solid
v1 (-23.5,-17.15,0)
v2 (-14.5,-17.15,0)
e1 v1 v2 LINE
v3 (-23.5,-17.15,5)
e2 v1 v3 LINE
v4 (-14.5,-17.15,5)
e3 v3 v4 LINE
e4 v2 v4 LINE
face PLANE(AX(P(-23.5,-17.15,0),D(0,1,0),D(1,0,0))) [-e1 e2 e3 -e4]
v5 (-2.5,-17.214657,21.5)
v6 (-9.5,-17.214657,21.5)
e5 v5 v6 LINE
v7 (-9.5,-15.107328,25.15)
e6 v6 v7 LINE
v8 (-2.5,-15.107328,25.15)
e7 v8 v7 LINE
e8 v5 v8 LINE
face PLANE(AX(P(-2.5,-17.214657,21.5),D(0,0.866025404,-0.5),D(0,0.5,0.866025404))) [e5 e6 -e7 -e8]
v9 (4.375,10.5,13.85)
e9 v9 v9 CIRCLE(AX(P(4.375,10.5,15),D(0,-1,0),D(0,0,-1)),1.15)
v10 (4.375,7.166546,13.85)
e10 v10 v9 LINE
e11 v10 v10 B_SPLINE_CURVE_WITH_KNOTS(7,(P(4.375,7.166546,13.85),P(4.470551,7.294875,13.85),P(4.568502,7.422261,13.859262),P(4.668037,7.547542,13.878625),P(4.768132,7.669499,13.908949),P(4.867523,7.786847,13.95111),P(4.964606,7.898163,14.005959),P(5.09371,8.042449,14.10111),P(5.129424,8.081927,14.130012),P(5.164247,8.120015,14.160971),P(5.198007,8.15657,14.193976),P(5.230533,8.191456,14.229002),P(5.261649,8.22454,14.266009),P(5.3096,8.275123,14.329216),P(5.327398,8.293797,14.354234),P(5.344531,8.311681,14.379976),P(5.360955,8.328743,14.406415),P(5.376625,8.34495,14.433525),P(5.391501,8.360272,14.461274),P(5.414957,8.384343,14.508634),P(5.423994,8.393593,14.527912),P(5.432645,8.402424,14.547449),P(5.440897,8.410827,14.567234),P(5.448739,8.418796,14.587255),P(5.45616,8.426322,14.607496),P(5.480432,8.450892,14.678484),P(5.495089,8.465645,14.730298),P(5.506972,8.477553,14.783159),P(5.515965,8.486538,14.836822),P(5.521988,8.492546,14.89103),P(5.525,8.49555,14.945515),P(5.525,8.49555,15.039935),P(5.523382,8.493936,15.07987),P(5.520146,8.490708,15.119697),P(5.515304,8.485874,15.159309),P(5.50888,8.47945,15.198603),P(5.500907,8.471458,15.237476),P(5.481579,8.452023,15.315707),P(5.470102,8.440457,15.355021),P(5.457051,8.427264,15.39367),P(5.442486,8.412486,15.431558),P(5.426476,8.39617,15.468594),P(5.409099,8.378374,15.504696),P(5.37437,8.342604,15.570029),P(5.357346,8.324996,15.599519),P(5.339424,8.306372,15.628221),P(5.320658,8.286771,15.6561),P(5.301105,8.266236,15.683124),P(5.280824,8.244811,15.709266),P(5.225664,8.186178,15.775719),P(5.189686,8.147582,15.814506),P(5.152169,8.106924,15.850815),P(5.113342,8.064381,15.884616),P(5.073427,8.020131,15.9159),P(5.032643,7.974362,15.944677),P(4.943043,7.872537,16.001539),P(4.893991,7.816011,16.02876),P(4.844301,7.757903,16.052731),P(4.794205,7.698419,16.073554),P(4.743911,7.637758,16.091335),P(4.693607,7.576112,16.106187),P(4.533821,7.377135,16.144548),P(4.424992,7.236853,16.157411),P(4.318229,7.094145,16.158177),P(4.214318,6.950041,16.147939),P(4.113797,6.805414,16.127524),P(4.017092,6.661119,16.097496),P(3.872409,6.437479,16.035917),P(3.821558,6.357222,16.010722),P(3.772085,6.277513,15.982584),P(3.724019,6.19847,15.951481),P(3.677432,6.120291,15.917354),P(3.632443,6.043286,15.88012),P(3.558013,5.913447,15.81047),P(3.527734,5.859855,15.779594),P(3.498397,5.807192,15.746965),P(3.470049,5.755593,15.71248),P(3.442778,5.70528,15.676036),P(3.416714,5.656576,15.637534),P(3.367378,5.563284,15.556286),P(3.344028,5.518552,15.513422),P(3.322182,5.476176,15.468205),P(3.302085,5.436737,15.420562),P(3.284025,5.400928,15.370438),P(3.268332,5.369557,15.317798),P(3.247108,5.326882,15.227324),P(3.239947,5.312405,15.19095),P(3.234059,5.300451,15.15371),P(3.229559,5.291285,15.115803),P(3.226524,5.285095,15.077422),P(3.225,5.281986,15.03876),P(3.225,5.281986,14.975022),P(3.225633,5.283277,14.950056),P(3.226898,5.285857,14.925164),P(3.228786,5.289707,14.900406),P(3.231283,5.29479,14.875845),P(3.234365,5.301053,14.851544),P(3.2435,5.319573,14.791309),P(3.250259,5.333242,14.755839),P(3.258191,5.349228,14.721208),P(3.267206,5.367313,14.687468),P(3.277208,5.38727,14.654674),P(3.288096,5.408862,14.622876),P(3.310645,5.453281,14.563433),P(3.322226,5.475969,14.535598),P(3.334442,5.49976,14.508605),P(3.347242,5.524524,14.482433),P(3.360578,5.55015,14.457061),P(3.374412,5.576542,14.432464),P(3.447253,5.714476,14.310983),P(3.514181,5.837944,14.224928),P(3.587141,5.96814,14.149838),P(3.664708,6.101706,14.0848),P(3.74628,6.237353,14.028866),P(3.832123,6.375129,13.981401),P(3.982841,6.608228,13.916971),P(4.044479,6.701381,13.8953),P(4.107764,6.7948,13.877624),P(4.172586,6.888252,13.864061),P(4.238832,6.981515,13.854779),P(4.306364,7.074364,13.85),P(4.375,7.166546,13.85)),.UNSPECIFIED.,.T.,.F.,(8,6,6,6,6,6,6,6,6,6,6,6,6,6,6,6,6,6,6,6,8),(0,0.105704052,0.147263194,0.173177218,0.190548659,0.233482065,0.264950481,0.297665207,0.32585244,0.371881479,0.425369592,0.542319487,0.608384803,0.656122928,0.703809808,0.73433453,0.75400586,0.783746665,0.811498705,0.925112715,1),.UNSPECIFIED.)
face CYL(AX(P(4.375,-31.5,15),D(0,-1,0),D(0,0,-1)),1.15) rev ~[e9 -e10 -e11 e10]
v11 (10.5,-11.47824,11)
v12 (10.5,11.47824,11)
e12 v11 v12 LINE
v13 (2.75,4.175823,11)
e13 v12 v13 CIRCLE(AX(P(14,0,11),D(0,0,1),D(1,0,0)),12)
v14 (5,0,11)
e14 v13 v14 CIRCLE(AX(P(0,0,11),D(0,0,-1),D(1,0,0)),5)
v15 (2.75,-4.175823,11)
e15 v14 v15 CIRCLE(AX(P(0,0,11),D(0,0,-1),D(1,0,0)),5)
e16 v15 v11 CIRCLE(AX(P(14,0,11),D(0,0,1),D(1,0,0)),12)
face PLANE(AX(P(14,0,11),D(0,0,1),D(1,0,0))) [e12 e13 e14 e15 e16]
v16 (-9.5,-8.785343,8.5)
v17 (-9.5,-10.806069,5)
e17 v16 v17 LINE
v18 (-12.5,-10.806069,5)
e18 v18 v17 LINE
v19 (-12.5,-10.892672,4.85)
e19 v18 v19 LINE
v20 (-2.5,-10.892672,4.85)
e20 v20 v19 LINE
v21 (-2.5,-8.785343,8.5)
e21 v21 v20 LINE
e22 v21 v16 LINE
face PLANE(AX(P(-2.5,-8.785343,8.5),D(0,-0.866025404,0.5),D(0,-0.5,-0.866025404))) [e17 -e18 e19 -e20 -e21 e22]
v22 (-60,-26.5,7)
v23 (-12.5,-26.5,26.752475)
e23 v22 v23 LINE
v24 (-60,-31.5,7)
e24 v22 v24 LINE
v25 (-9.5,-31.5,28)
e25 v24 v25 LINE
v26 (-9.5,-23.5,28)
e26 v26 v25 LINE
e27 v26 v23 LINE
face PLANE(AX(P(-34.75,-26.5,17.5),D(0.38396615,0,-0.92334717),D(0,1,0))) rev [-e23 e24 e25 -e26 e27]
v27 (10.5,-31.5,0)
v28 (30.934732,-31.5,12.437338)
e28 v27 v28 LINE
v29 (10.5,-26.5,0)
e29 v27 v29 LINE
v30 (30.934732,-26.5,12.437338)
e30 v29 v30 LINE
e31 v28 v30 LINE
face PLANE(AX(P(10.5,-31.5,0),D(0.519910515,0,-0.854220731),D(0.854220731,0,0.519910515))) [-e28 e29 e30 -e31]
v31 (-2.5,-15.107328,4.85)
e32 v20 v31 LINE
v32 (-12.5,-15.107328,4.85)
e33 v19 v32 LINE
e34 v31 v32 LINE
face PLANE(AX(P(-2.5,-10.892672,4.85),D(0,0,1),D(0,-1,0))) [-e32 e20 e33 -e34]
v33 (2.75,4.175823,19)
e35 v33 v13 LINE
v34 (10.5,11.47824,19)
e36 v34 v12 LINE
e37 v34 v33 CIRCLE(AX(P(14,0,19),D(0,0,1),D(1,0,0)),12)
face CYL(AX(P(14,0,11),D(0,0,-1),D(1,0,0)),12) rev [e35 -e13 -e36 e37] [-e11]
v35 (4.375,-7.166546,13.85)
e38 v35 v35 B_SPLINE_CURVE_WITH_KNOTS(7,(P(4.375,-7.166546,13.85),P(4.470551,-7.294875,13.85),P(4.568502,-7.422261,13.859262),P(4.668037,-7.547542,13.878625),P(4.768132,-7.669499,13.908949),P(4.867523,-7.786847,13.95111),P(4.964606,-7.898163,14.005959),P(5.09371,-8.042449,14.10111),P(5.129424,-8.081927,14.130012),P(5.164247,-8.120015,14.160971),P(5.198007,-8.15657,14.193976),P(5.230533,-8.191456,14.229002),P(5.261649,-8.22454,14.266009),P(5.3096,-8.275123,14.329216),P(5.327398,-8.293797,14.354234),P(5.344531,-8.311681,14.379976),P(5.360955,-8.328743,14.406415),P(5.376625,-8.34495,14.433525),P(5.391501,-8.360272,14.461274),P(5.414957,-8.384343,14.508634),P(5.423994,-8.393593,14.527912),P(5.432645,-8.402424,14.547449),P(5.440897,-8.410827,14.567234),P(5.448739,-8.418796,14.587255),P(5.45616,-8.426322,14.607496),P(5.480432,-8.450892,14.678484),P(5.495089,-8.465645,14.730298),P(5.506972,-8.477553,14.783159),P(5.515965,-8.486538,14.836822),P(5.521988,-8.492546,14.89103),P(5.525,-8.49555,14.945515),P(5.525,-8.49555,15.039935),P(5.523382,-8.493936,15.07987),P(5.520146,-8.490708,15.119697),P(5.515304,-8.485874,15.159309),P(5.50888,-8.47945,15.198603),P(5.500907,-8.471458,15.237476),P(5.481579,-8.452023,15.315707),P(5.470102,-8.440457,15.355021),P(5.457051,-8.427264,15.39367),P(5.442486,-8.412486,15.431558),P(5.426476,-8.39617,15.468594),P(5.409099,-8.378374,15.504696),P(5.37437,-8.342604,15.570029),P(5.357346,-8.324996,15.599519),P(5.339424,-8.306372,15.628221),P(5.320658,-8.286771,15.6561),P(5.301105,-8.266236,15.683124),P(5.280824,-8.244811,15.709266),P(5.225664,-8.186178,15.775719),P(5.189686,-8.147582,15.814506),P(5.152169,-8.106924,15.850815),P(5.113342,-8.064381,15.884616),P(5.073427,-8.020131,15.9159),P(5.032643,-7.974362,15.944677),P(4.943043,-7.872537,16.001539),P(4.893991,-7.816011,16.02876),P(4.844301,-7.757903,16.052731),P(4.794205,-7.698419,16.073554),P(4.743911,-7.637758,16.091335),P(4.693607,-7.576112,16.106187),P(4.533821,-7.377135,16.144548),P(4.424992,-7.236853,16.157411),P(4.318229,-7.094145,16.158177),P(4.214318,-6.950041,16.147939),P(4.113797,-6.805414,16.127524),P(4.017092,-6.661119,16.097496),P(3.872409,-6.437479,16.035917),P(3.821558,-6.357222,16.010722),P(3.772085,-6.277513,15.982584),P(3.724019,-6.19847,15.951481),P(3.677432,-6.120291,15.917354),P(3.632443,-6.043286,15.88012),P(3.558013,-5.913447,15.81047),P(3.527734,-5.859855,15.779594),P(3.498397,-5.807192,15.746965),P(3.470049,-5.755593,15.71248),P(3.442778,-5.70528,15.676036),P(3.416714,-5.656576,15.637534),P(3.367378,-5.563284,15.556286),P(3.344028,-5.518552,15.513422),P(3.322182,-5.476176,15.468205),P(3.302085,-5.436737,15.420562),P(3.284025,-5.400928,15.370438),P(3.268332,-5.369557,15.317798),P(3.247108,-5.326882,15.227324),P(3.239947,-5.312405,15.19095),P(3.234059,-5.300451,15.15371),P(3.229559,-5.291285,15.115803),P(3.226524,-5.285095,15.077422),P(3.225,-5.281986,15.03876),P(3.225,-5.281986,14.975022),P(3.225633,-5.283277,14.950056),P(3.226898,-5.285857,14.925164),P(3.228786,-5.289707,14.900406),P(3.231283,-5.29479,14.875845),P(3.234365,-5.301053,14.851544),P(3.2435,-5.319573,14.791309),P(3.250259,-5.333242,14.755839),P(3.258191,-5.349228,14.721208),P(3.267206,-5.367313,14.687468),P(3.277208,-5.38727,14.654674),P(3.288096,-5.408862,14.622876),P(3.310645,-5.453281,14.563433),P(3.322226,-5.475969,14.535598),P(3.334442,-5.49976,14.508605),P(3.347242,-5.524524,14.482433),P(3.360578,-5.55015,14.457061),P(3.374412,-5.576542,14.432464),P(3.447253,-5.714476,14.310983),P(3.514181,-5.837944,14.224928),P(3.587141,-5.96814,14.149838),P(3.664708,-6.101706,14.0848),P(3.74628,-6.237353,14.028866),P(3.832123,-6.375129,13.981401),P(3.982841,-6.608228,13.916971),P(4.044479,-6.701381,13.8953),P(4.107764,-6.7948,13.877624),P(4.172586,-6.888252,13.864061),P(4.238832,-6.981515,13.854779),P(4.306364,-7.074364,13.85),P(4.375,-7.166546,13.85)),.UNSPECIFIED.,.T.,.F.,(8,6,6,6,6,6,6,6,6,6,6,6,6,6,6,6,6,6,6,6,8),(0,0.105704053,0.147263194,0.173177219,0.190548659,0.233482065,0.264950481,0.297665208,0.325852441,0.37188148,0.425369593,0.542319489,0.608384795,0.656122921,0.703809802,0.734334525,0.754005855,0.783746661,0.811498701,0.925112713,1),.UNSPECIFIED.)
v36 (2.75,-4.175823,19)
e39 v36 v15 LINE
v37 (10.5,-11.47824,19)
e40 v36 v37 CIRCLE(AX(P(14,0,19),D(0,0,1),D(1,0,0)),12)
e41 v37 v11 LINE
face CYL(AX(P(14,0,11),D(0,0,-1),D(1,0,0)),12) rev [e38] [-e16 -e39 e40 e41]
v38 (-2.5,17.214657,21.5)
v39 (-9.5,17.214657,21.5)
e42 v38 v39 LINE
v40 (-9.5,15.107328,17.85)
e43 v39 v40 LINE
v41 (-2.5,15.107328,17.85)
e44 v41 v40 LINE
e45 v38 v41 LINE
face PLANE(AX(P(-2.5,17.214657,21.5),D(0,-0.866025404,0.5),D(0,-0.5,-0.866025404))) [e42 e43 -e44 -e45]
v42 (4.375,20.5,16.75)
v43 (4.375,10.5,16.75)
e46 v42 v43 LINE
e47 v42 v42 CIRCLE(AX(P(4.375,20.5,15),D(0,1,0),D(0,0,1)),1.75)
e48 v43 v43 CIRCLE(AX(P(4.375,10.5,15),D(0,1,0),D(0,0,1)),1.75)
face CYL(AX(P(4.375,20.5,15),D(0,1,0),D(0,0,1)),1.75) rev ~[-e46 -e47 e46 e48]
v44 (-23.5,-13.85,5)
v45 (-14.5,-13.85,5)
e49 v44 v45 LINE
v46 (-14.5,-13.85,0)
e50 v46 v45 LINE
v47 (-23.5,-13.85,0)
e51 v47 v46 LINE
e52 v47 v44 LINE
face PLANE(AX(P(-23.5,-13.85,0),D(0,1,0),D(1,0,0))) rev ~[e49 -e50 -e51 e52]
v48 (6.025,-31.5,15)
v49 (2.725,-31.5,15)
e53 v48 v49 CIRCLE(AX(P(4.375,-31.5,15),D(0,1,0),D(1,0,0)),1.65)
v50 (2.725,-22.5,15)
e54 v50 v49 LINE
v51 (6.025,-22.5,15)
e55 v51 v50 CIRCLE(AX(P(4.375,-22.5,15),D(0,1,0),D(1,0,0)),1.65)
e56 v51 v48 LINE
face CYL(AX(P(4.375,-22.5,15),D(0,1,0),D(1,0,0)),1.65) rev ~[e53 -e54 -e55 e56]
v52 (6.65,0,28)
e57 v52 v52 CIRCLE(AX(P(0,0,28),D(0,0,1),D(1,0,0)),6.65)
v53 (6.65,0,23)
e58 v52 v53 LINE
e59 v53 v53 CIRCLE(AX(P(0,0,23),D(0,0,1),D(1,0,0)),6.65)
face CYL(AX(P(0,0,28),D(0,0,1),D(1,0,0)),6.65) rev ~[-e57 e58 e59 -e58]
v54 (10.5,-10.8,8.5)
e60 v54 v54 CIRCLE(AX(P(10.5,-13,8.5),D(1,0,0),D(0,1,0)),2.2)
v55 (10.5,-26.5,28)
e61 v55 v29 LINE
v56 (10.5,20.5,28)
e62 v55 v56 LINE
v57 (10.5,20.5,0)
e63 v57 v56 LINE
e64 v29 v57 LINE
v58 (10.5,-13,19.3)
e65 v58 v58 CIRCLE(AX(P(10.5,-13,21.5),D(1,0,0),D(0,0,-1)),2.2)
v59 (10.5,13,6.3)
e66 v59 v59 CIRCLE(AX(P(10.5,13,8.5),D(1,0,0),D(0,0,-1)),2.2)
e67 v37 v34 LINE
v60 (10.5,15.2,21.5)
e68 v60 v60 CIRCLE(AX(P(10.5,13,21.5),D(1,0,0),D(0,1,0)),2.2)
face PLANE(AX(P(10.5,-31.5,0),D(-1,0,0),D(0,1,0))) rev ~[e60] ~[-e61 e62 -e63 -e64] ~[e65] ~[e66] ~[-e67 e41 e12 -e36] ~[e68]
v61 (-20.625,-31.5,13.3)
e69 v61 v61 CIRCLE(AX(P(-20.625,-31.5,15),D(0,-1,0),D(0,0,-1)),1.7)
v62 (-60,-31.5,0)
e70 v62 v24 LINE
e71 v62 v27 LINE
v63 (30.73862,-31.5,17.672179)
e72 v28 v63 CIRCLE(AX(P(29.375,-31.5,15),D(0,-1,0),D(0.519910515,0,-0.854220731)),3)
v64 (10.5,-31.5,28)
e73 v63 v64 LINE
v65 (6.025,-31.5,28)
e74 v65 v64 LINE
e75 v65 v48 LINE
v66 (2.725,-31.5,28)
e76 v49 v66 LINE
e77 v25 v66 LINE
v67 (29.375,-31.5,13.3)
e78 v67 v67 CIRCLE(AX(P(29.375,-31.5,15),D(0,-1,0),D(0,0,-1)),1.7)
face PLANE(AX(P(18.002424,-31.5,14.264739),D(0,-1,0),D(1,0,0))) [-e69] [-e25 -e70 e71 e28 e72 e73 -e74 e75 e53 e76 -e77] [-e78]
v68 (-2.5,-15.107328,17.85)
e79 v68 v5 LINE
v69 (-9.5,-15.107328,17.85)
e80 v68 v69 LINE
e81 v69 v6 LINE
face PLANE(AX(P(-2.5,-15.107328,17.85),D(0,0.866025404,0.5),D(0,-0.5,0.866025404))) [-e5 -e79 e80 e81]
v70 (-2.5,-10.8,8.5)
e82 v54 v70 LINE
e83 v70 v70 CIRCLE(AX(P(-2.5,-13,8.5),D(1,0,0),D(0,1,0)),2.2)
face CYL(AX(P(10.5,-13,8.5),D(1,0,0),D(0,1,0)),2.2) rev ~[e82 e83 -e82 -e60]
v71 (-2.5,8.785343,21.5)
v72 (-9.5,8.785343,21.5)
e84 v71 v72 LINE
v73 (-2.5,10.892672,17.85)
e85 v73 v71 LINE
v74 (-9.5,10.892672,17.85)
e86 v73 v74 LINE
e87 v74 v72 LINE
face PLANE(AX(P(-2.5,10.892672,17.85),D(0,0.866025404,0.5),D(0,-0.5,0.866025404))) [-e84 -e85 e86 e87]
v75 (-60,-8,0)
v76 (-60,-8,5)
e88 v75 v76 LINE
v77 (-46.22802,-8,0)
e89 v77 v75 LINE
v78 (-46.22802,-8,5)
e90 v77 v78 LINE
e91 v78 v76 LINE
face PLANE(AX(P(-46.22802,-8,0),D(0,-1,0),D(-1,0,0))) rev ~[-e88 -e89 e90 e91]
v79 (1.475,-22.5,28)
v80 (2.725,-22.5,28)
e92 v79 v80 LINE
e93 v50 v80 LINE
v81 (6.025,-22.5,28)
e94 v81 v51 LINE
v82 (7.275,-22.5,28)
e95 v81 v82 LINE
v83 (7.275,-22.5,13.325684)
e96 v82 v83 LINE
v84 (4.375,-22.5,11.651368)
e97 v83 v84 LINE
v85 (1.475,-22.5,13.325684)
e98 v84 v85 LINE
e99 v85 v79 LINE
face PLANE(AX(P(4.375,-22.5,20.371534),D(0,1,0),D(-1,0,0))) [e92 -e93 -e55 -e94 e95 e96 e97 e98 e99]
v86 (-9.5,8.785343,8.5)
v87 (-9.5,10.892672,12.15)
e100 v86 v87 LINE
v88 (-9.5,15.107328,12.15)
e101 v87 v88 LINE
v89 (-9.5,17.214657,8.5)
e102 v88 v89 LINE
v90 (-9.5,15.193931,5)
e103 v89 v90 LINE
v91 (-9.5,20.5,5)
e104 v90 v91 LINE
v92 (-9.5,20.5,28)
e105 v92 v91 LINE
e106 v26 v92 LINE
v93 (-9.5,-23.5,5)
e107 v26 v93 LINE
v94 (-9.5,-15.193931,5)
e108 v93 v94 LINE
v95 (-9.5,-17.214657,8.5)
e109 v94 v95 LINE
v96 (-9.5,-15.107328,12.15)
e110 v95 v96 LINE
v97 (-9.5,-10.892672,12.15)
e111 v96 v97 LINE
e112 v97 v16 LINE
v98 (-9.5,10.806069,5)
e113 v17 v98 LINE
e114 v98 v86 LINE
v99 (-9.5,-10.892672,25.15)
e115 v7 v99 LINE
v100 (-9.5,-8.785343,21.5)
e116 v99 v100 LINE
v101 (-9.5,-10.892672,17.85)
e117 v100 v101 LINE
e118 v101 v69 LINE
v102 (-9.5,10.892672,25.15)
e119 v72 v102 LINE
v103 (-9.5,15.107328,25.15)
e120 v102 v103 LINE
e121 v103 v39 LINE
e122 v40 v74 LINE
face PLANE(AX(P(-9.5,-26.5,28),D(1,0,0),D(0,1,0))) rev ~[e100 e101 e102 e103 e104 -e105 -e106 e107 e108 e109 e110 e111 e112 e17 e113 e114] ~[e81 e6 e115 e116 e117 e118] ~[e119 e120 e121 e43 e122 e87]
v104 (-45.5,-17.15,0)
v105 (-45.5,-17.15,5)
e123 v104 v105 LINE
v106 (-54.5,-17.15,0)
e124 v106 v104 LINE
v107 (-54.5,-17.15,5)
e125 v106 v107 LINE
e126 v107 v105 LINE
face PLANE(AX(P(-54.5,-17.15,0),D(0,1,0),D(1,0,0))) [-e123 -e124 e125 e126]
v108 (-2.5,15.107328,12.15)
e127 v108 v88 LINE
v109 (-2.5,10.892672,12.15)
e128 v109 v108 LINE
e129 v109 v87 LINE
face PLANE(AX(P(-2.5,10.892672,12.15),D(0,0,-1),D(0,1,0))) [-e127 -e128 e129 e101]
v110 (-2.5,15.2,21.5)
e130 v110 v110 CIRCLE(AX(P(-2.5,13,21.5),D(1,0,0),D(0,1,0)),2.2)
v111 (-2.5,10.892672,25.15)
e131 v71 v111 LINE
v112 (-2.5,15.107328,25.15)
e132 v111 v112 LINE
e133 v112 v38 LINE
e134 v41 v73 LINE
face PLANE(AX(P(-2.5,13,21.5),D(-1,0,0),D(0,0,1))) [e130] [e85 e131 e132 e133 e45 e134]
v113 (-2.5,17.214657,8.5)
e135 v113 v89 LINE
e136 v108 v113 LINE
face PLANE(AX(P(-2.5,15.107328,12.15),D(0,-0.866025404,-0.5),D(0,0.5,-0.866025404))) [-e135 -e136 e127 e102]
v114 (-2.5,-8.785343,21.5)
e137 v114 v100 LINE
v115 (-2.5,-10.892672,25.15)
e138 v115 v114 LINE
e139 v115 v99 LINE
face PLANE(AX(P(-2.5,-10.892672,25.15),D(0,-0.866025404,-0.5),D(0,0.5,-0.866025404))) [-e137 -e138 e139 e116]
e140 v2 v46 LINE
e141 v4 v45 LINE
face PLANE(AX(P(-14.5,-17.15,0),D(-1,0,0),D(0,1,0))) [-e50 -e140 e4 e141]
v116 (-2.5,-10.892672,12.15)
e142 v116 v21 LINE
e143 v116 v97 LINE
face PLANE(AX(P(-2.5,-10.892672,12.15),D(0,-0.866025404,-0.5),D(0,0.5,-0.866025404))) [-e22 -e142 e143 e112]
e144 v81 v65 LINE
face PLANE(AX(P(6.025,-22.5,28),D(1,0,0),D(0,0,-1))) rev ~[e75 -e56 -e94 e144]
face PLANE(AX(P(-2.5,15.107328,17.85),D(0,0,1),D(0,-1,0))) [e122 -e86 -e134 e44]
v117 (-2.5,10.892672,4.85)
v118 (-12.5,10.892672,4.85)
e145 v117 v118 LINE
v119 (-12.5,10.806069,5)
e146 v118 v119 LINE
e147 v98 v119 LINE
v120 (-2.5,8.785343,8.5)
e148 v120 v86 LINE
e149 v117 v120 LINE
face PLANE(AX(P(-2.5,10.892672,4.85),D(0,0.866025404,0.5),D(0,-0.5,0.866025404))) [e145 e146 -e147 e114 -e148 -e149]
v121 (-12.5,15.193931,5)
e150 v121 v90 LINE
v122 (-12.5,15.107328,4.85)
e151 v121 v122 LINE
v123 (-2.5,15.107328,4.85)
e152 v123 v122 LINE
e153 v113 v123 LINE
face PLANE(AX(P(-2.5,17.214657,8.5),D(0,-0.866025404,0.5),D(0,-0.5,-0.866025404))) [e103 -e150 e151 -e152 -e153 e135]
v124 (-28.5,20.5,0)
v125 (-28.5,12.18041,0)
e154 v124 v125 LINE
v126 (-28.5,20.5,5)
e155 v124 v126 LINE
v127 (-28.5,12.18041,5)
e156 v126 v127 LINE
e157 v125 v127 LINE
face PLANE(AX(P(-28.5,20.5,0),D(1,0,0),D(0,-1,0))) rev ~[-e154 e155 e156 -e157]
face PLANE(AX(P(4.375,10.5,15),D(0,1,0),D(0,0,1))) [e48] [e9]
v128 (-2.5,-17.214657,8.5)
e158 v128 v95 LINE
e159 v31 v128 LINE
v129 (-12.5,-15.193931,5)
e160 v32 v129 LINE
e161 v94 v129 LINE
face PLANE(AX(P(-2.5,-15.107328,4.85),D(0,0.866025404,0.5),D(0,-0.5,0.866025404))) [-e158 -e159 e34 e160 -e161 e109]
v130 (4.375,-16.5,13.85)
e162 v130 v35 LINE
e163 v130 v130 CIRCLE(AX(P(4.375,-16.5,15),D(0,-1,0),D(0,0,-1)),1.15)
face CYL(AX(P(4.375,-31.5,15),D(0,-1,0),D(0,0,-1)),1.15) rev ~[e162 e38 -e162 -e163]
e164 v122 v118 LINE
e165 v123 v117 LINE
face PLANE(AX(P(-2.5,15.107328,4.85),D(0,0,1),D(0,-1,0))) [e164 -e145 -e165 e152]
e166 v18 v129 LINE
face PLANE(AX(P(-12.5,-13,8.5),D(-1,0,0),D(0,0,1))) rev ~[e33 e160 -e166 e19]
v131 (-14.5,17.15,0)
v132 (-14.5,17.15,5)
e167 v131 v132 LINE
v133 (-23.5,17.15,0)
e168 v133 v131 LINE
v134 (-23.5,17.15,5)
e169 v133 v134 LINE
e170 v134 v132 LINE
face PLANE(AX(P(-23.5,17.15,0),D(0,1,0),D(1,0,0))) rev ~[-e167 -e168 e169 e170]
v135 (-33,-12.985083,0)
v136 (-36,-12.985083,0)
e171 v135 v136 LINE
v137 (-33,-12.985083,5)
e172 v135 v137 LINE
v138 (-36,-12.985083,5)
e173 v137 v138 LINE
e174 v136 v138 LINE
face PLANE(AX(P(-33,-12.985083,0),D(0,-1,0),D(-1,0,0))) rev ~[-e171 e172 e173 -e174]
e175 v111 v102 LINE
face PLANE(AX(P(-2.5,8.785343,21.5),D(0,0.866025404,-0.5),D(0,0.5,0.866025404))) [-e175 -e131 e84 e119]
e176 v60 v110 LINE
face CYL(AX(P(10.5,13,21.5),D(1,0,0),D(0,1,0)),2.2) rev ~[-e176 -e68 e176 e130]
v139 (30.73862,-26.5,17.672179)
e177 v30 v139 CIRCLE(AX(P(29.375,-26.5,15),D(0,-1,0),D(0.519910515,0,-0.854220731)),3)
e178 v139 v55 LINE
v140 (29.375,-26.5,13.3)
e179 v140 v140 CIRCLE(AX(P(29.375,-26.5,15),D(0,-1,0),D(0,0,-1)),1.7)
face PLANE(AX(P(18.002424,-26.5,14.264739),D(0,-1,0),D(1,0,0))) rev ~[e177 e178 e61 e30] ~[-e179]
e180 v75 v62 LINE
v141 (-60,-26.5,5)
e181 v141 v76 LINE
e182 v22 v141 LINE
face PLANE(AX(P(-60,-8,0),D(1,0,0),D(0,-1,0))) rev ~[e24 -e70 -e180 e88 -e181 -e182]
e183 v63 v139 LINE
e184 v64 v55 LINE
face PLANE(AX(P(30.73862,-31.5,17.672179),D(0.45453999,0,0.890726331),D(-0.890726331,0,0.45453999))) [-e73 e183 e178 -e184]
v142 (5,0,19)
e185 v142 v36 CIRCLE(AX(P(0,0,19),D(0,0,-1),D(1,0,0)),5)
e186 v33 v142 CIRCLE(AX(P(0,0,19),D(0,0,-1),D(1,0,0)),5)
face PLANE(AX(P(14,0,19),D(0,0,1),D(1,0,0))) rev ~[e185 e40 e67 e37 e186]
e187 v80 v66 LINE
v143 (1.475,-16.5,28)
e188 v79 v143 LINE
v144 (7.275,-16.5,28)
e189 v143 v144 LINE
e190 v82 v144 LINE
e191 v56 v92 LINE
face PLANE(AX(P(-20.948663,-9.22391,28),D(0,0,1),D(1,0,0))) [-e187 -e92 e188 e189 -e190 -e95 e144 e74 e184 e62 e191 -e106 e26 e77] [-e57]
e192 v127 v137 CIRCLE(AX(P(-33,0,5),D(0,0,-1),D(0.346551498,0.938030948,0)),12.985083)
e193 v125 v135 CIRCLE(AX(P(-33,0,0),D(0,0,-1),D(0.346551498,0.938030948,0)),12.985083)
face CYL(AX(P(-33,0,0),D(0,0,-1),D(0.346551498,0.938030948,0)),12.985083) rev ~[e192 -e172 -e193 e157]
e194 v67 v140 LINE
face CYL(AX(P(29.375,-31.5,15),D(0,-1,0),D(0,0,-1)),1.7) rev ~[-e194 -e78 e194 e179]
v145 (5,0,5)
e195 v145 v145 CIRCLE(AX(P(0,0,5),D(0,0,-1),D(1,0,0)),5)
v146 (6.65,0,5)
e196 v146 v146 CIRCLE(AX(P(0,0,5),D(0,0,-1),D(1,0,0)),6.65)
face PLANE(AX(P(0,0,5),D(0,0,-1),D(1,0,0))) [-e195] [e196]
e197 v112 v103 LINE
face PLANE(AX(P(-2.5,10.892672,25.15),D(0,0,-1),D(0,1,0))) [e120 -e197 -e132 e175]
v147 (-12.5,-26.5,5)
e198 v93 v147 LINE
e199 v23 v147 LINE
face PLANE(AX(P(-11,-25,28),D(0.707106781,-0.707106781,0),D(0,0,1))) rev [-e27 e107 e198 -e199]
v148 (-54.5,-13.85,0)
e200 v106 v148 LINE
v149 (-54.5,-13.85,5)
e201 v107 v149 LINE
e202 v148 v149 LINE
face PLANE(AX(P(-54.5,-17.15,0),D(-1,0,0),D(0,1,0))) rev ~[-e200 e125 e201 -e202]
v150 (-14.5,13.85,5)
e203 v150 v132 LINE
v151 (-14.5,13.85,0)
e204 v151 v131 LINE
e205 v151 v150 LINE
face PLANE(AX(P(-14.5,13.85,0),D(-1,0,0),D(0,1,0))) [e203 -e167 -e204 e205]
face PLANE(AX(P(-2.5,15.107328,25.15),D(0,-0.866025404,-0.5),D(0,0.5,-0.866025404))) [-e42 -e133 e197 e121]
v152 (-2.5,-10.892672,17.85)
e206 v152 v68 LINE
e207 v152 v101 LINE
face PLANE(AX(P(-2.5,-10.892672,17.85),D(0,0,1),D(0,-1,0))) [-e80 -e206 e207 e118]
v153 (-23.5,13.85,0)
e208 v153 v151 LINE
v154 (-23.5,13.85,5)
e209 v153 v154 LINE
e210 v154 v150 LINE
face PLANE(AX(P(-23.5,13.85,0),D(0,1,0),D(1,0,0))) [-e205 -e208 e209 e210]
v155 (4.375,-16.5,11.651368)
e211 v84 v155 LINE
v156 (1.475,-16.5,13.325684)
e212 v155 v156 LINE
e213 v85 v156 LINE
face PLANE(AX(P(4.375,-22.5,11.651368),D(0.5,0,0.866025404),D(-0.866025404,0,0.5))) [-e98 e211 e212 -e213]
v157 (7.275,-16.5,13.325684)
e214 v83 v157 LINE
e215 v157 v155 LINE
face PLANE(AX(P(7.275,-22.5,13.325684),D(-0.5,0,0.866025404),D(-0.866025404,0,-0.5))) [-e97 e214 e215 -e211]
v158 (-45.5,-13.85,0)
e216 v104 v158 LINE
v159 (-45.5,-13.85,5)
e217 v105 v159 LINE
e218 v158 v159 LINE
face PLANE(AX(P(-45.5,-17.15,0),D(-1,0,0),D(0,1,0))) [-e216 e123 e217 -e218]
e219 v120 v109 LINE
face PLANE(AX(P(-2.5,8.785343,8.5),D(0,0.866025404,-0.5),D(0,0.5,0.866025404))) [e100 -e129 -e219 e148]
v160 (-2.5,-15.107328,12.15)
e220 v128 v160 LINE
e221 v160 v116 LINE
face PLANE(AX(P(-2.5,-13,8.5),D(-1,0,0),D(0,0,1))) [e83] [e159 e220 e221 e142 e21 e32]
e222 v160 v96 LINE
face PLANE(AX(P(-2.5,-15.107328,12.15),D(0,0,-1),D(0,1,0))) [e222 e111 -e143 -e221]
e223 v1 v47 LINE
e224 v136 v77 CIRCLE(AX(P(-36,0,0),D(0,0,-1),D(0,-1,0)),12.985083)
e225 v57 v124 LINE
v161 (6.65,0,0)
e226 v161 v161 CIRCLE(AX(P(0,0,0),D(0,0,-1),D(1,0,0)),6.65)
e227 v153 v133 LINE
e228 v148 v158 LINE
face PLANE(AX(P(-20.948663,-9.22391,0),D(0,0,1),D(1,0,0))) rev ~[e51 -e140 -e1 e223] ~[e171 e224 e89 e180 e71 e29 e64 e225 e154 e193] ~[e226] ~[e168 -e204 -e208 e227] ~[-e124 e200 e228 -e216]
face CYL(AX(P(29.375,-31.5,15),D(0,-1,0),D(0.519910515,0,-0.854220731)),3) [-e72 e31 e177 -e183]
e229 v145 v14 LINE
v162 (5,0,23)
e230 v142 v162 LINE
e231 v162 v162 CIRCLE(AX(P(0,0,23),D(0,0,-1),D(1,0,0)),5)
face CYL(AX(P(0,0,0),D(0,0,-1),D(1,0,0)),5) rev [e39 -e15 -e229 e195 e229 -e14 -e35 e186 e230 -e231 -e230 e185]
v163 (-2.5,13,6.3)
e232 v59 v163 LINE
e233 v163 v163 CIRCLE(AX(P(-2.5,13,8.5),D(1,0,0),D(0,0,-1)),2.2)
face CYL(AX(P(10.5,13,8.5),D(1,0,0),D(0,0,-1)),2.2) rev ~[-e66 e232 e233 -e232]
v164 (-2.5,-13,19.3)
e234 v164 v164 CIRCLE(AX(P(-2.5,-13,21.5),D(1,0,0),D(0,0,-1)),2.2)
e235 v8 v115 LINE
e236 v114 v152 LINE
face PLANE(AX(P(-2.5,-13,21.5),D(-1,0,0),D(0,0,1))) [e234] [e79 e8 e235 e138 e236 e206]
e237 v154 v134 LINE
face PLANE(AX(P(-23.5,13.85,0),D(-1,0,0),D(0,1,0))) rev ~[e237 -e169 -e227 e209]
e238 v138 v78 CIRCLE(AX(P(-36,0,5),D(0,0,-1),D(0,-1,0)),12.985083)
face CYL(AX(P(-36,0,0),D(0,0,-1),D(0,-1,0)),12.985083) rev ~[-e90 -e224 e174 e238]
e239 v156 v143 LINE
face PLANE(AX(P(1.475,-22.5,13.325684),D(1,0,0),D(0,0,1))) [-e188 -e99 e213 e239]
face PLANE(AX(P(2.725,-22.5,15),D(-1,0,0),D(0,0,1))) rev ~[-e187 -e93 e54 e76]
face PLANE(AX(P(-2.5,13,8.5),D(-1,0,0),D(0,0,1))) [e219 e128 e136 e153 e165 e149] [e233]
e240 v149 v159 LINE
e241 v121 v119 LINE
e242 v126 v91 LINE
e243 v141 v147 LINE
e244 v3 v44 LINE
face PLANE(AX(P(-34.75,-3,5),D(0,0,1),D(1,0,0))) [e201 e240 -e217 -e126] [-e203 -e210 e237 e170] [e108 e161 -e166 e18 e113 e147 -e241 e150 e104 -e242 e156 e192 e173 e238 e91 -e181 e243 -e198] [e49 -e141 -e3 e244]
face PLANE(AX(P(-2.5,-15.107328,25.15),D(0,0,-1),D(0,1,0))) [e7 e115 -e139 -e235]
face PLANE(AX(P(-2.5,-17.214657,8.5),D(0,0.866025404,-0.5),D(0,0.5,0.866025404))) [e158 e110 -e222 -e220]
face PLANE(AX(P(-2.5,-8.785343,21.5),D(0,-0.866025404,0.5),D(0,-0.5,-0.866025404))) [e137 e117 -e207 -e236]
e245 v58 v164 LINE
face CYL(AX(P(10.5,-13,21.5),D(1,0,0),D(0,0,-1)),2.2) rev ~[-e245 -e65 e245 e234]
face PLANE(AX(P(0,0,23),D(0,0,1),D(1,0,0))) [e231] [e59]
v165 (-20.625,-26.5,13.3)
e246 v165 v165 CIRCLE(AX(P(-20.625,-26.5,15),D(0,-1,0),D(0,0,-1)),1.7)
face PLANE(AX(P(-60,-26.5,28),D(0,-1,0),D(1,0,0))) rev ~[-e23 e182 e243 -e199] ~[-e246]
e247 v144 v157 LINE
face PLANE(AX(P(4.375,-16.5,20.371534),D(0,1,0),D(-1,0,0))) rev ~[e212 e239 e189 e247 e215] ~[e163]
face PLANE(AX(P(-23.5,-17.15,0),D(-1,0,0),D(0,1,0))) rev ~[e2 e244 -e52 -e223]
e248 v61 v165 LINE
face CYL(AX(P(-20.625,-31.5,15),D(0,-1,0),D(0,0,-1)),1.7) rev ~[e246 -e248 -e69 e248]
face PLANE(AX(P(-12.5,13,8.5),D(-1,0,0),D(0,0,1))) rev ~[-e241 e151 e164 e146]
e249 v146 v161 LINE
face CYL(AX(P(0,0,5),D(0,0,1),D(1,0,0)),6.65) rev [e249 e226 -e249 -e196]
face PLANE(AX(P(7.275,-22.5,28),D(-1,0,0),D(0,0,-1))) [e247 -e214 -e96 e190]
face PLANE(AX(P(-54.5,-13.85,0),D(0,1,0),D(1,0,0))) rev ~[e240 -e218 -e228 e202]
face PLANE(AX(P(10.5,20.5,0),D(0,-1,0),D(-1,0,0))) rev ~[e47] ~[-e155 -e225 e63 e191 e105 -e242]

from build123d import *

# Parameters (mm, degrees)
SKETCH1_R               = 5
SKETCH1_W               = 9
SKETCH1_H               = 3.3
BOSS_EXTRUDE1_DEPTH     = 28
SKETCH2_W               = 50.5
SKETCH2_H               = 47
CUT_EXTRUDE1_DEPTH      = 23
SKETCH3_R               = 6.65
CUT_EXTRUDE2_DEPTH      = 5
CUT_EXTRUDE3_START      = -5
SKETCH4_R               = 6.65
CUT_EXTRUDE3_DEPTH      = 5
SKETCH5_R               = 12
CUT_EXTRUDE4_DEPTH      = 8
CUT_EXTRUDE5_START      = -9
CUT_EXTRUDE5_DEPTH      = 9
CUT_EXTRUDE6_DEPTH      = 6
SKETCH8_R               = 1.15
CUT_EXTRUDE7_DEPTH      = 85.190260719
CHAMFER1_SIZE           = 21
CHAMFER1_SIZE2          = 50.5
SKETCH9_R               = 2.2
CUT_EXTRUDE8_DEPTH      = 83.137080542
CUT_EXTRUDE9_DEPTH      = 3
CUT_EXTRUDE9_DEPTH_BACK = 7
SKETCH12_R              = 1.75
CUT_EXTRUDE10_DEPTH     = 10
CHAMFER2_SIZE           = 3
BOSS_EXTRUDE3_DEPTH     = 5
SKETCH15_R              = 1.7
CUT_EXTRUDE11_DEPTH     = 85.190260719


with BuildPart() as part:
    # Sketch1 → Boss-Extrude1 (new body)
    with BuildSketch(Plane.XY):
        with BuildLine():
            Line((-60, -31.5), (10.5, -31.5))
            Line((10.5, -31.5), (10.5, 20.5))
            Line((10.5, 20.5), (-28.5, 20.5))
            Line((-28.5, 20.5), (-28.5, 12.180409823))
            ThreePointArc((-28.5, 12.180409823), (-20.217668105, -2.285689125), (-33, -12.985083113))
            Line((-33, -12.985083113), (-36, -12.985083113))
            ThreePointArc((-36, -12.985083113), (-41.689100041, -11.672468641), (-46.228019527, -8))
            Line((-46.228019527, -8), (-60, -8))
            Line((-60, -8), (-60, -31.5))
        make_face()
        Circle(SKETCH1_R, mode=Mode.SUBTRACT)
        with Locations((-19, 15.5)):
            Rectangle(SKETCH1_W, SKETCH1_H, mode=Mode.SUBTRACT)
        with Locations((-19, -15.5)):
            Rectangle(SKETCH1_W, SKETCH1_H, mode=Mode.SUBTRACT)
        with Locations((-50, -15.5)):
            Rectangle(SKETCH1_W, SKETCH1_H, mode=Mode.SUBTRACT)
    extrude(amount=BOSS_EXTRUDE1_DEPTH)

    # Sketch2 → Cut-Extrude1 (cut)
    with BuildSketch(Plane.XY.offset(28)):
        with Locations((-34.75, -3)):
            Rectangle(SKETCH2_W, SKETCH2_H)
    extrude(amount=-CUT_EXTRUDE1_DEPTH, mode=Mode.SUBTRACT)

    # Sketch3 → Cut-Extrude2 (cut)
    with BuildSketch(Plane.XY.offset(28)):
        Circle(SKETCH3_R)
    extrude(amount=-CUT_EXTRUDE2_DEPTH, mode=Mode.SUBTRACT)

    # Sketch4 → Cut-Extrude3 (cut)
    with BuildSketch(Plane(origin=(0, 0, 0), x_dir=(-1, 0, 0), z_dir=(0, 0, -1)).offset(CUT_EXTRUDE3_START)):
        with Locations(Location((0, 0, 0), (0, 0, 180))):
            Circle(SKETCH4_R)
    extrude(amount=CUT_EXTRUDE3_DEPTH, mode=Mode.SUBTRACT)

    # Sketch5 → Cut-Extrude4 (cut)
    with BuildSketch(Plane.XY.offset(11)):
        with Locations((14, 0)):
            Circle(SKETCH5_R)
    extrude(amount=CUT_EXTRUDE4_DEPTH, mode=Mode.SUBTRACT)

    # Sketch6 → Cut-Extrude5 (cut)
    with BuildSketch(Plane.XZ.offset(31.5).offset(CUT_EXTRUDE5_START)):
        with BuildLine():
            Line((2.725, 15), (2.725, 28))
            Line((2.725, 28), (6.025, 28))
            Line((6.025, 28), (6.025, 15))
            ThreePointArc((6.025, 15), (4.375, 13.35), (2.725, 15))
        make_face()
    extrude(amount=CUT_EXTRUDE5_DEPTH, mode=Mode.SUBTRACT)

    # Sketch7 → Cut-Extrude6 (cut)
    with BuildSketch(Plane.XZ.offset(22.5)):
        Polygon((1.475, 28), (7.275, 28), (7.275, 13.325684219), (4.375, 11.651368439), (1.475, 13.325684219), align=None)
    extrude(amount=-CUT_EXTRUDE6_DEPTH, mode=Mode.SUBTRACT)

    # Sketch8 → Cut-Extrude7 (cut, through all)
    with BuildSketch(Plane.XZ.offset(31.5)):
        with Locations(Location((4.375, 15, 0), (0, 0, 270))):
            Circle(SKETCH8_R)
    extrude(amount=-CUT_EXTRUDE7_DEPTH, mode=Mode.SUBTRACT)

    # Chamfer1
    chamfer1_edges = [part.edges().sort_by_distance(p)[0] for p in [
        (-60, -29, 28),
    ]]
    chamfer1_side = [part.faces().sort_by_distance(p)[0] for p in [
        (-60, -19.75, 0.365547535),
    ]]
    chamfer(chamfer1_edges, length=CHAMFER1_SIZE, length2=CHAMFER1_SIZE2, reference=chamfer1_side[0])

    # Sketch9 → Cut-Extrude8 (cut, through all)
    with BuildSketch(Plane(origin=(10.5, 0, 0), x_dir=(0, 0, -1), z_dir=(1, 0, 0))):
        with Locations((-8.5, 13)):
            Circle(SKETCH9_R)
        with Locations(Location((-21.5, 13, 0), (0, 0, 90))):
            Circle(SKETCH9_R)
        with Locations(Location((-8.5, -13, 0), (0, 0, 90))):
            Circle(SKETCH9_R)
        with Locations((-21.5, -13)):
            Circle(SKETCH9_R)
    extrude(amount=-CUT_EXTRUDE8_DEPTH, mode=Mode.SUBTRACT)

    # Sketch10 → Cut-Extrude9 (cut, two sides: drawn at the far end of the back side and taken through both)
    with BuildSketch(Plane.ZY.offset(9.5).offset(-CUT_EXTRUDE9_DEPTH_BACK)):
        Polygon((4.85, 15.107328483), (4.85, 10.892671517), (8.5, 8.785343035), (12.15, 10.892671517), (12.15, 15.107328483), (8.5, 17.214656965), align=None)
        Polygon((25.15, 10.892671517), (25.15, 15.107328483), (21.5, 17.214656965), (17.85, 15.107328483), (17.85, 10.892671517), (21.5, 8.785343035), align=None)
        Polygon((25.15, -10.892671517), (21.5, -8.785343035), (17.85, -10.892671517), (17.85, -15.107328483), (21.5, -17.214656965), (25.15, -15.107328483), align=None)
        Polygon((12.15, -10.892671517), (8.5, -8.785343035), (4.85, -10.892671517), (4.85, -15.107328483), (8.5, -17.214656965), (12.15, -15.107328483), align=None)
    extrude(amount=CUT_EXTRUDE9_DEPTH + CUT_EXTRUDE9_DEPTH_BACK, mode=Mode.SUBTRACT)

    # Sketch12 → Cut-Extrude10 (cut)
    with BuildSketch(Plane(origin=(0, 20.5, 0), x_dir=(1, 0, 0), z_dir=(0, 1, 0))):
        with Locations(Location((4.375, -15, 0), (0, 0, 270))):
            Circle(SKETCH12_R)
    extrude(amount=-CUT_EXTRUDE10_DEPTH, mode=Mode.SUBTRACT)

    # Chamfer2
    chamfer2_edges = [part.edges().sort_by_distance(p)[0] for p in [
        (-9.5, -26.5, 16.5),
    ]]
    chamfer(chamfer2_edges, length=CHAMFER2_SIZE)

    # Sketch14 → Boss-Extrude3 (add)
    with BuildSketch(Plane.XZ.offset(31.5)):
        with BuildLine():
            Line((10.5, 0), (30.934731544, 12.437337808))
            ThreePointArc((30.934731544, 12.437337808), (32.372897026, 15.112309482), (30.73861997, 17.672178994))
            Line((30.73861997, 17.672178994), (10.5, 28))
            Line((10.5, 28), (10.5, 0))
        make_face()
    extrude(amount=-BOSS_EXTRUDE3_DEPTH)

    # Sketch15 → Cut-Extrude11 (cut, through all)
    with BuildSketch(Plane.XZ.offset(31.5)):
        with Locations(Location((-20.625, 15, 0), (0, 0, 270))):
            Circle(SKETCH15_R)
        with Locations(Location((29.375, 15, 0), (0, 0, 270))):
            Circle(SKETCH15_R)
    extrude(amount=-CUT_EXTRUDE11_DEPTH, mode=Mode.SUBTRACT)


solid = part.part
